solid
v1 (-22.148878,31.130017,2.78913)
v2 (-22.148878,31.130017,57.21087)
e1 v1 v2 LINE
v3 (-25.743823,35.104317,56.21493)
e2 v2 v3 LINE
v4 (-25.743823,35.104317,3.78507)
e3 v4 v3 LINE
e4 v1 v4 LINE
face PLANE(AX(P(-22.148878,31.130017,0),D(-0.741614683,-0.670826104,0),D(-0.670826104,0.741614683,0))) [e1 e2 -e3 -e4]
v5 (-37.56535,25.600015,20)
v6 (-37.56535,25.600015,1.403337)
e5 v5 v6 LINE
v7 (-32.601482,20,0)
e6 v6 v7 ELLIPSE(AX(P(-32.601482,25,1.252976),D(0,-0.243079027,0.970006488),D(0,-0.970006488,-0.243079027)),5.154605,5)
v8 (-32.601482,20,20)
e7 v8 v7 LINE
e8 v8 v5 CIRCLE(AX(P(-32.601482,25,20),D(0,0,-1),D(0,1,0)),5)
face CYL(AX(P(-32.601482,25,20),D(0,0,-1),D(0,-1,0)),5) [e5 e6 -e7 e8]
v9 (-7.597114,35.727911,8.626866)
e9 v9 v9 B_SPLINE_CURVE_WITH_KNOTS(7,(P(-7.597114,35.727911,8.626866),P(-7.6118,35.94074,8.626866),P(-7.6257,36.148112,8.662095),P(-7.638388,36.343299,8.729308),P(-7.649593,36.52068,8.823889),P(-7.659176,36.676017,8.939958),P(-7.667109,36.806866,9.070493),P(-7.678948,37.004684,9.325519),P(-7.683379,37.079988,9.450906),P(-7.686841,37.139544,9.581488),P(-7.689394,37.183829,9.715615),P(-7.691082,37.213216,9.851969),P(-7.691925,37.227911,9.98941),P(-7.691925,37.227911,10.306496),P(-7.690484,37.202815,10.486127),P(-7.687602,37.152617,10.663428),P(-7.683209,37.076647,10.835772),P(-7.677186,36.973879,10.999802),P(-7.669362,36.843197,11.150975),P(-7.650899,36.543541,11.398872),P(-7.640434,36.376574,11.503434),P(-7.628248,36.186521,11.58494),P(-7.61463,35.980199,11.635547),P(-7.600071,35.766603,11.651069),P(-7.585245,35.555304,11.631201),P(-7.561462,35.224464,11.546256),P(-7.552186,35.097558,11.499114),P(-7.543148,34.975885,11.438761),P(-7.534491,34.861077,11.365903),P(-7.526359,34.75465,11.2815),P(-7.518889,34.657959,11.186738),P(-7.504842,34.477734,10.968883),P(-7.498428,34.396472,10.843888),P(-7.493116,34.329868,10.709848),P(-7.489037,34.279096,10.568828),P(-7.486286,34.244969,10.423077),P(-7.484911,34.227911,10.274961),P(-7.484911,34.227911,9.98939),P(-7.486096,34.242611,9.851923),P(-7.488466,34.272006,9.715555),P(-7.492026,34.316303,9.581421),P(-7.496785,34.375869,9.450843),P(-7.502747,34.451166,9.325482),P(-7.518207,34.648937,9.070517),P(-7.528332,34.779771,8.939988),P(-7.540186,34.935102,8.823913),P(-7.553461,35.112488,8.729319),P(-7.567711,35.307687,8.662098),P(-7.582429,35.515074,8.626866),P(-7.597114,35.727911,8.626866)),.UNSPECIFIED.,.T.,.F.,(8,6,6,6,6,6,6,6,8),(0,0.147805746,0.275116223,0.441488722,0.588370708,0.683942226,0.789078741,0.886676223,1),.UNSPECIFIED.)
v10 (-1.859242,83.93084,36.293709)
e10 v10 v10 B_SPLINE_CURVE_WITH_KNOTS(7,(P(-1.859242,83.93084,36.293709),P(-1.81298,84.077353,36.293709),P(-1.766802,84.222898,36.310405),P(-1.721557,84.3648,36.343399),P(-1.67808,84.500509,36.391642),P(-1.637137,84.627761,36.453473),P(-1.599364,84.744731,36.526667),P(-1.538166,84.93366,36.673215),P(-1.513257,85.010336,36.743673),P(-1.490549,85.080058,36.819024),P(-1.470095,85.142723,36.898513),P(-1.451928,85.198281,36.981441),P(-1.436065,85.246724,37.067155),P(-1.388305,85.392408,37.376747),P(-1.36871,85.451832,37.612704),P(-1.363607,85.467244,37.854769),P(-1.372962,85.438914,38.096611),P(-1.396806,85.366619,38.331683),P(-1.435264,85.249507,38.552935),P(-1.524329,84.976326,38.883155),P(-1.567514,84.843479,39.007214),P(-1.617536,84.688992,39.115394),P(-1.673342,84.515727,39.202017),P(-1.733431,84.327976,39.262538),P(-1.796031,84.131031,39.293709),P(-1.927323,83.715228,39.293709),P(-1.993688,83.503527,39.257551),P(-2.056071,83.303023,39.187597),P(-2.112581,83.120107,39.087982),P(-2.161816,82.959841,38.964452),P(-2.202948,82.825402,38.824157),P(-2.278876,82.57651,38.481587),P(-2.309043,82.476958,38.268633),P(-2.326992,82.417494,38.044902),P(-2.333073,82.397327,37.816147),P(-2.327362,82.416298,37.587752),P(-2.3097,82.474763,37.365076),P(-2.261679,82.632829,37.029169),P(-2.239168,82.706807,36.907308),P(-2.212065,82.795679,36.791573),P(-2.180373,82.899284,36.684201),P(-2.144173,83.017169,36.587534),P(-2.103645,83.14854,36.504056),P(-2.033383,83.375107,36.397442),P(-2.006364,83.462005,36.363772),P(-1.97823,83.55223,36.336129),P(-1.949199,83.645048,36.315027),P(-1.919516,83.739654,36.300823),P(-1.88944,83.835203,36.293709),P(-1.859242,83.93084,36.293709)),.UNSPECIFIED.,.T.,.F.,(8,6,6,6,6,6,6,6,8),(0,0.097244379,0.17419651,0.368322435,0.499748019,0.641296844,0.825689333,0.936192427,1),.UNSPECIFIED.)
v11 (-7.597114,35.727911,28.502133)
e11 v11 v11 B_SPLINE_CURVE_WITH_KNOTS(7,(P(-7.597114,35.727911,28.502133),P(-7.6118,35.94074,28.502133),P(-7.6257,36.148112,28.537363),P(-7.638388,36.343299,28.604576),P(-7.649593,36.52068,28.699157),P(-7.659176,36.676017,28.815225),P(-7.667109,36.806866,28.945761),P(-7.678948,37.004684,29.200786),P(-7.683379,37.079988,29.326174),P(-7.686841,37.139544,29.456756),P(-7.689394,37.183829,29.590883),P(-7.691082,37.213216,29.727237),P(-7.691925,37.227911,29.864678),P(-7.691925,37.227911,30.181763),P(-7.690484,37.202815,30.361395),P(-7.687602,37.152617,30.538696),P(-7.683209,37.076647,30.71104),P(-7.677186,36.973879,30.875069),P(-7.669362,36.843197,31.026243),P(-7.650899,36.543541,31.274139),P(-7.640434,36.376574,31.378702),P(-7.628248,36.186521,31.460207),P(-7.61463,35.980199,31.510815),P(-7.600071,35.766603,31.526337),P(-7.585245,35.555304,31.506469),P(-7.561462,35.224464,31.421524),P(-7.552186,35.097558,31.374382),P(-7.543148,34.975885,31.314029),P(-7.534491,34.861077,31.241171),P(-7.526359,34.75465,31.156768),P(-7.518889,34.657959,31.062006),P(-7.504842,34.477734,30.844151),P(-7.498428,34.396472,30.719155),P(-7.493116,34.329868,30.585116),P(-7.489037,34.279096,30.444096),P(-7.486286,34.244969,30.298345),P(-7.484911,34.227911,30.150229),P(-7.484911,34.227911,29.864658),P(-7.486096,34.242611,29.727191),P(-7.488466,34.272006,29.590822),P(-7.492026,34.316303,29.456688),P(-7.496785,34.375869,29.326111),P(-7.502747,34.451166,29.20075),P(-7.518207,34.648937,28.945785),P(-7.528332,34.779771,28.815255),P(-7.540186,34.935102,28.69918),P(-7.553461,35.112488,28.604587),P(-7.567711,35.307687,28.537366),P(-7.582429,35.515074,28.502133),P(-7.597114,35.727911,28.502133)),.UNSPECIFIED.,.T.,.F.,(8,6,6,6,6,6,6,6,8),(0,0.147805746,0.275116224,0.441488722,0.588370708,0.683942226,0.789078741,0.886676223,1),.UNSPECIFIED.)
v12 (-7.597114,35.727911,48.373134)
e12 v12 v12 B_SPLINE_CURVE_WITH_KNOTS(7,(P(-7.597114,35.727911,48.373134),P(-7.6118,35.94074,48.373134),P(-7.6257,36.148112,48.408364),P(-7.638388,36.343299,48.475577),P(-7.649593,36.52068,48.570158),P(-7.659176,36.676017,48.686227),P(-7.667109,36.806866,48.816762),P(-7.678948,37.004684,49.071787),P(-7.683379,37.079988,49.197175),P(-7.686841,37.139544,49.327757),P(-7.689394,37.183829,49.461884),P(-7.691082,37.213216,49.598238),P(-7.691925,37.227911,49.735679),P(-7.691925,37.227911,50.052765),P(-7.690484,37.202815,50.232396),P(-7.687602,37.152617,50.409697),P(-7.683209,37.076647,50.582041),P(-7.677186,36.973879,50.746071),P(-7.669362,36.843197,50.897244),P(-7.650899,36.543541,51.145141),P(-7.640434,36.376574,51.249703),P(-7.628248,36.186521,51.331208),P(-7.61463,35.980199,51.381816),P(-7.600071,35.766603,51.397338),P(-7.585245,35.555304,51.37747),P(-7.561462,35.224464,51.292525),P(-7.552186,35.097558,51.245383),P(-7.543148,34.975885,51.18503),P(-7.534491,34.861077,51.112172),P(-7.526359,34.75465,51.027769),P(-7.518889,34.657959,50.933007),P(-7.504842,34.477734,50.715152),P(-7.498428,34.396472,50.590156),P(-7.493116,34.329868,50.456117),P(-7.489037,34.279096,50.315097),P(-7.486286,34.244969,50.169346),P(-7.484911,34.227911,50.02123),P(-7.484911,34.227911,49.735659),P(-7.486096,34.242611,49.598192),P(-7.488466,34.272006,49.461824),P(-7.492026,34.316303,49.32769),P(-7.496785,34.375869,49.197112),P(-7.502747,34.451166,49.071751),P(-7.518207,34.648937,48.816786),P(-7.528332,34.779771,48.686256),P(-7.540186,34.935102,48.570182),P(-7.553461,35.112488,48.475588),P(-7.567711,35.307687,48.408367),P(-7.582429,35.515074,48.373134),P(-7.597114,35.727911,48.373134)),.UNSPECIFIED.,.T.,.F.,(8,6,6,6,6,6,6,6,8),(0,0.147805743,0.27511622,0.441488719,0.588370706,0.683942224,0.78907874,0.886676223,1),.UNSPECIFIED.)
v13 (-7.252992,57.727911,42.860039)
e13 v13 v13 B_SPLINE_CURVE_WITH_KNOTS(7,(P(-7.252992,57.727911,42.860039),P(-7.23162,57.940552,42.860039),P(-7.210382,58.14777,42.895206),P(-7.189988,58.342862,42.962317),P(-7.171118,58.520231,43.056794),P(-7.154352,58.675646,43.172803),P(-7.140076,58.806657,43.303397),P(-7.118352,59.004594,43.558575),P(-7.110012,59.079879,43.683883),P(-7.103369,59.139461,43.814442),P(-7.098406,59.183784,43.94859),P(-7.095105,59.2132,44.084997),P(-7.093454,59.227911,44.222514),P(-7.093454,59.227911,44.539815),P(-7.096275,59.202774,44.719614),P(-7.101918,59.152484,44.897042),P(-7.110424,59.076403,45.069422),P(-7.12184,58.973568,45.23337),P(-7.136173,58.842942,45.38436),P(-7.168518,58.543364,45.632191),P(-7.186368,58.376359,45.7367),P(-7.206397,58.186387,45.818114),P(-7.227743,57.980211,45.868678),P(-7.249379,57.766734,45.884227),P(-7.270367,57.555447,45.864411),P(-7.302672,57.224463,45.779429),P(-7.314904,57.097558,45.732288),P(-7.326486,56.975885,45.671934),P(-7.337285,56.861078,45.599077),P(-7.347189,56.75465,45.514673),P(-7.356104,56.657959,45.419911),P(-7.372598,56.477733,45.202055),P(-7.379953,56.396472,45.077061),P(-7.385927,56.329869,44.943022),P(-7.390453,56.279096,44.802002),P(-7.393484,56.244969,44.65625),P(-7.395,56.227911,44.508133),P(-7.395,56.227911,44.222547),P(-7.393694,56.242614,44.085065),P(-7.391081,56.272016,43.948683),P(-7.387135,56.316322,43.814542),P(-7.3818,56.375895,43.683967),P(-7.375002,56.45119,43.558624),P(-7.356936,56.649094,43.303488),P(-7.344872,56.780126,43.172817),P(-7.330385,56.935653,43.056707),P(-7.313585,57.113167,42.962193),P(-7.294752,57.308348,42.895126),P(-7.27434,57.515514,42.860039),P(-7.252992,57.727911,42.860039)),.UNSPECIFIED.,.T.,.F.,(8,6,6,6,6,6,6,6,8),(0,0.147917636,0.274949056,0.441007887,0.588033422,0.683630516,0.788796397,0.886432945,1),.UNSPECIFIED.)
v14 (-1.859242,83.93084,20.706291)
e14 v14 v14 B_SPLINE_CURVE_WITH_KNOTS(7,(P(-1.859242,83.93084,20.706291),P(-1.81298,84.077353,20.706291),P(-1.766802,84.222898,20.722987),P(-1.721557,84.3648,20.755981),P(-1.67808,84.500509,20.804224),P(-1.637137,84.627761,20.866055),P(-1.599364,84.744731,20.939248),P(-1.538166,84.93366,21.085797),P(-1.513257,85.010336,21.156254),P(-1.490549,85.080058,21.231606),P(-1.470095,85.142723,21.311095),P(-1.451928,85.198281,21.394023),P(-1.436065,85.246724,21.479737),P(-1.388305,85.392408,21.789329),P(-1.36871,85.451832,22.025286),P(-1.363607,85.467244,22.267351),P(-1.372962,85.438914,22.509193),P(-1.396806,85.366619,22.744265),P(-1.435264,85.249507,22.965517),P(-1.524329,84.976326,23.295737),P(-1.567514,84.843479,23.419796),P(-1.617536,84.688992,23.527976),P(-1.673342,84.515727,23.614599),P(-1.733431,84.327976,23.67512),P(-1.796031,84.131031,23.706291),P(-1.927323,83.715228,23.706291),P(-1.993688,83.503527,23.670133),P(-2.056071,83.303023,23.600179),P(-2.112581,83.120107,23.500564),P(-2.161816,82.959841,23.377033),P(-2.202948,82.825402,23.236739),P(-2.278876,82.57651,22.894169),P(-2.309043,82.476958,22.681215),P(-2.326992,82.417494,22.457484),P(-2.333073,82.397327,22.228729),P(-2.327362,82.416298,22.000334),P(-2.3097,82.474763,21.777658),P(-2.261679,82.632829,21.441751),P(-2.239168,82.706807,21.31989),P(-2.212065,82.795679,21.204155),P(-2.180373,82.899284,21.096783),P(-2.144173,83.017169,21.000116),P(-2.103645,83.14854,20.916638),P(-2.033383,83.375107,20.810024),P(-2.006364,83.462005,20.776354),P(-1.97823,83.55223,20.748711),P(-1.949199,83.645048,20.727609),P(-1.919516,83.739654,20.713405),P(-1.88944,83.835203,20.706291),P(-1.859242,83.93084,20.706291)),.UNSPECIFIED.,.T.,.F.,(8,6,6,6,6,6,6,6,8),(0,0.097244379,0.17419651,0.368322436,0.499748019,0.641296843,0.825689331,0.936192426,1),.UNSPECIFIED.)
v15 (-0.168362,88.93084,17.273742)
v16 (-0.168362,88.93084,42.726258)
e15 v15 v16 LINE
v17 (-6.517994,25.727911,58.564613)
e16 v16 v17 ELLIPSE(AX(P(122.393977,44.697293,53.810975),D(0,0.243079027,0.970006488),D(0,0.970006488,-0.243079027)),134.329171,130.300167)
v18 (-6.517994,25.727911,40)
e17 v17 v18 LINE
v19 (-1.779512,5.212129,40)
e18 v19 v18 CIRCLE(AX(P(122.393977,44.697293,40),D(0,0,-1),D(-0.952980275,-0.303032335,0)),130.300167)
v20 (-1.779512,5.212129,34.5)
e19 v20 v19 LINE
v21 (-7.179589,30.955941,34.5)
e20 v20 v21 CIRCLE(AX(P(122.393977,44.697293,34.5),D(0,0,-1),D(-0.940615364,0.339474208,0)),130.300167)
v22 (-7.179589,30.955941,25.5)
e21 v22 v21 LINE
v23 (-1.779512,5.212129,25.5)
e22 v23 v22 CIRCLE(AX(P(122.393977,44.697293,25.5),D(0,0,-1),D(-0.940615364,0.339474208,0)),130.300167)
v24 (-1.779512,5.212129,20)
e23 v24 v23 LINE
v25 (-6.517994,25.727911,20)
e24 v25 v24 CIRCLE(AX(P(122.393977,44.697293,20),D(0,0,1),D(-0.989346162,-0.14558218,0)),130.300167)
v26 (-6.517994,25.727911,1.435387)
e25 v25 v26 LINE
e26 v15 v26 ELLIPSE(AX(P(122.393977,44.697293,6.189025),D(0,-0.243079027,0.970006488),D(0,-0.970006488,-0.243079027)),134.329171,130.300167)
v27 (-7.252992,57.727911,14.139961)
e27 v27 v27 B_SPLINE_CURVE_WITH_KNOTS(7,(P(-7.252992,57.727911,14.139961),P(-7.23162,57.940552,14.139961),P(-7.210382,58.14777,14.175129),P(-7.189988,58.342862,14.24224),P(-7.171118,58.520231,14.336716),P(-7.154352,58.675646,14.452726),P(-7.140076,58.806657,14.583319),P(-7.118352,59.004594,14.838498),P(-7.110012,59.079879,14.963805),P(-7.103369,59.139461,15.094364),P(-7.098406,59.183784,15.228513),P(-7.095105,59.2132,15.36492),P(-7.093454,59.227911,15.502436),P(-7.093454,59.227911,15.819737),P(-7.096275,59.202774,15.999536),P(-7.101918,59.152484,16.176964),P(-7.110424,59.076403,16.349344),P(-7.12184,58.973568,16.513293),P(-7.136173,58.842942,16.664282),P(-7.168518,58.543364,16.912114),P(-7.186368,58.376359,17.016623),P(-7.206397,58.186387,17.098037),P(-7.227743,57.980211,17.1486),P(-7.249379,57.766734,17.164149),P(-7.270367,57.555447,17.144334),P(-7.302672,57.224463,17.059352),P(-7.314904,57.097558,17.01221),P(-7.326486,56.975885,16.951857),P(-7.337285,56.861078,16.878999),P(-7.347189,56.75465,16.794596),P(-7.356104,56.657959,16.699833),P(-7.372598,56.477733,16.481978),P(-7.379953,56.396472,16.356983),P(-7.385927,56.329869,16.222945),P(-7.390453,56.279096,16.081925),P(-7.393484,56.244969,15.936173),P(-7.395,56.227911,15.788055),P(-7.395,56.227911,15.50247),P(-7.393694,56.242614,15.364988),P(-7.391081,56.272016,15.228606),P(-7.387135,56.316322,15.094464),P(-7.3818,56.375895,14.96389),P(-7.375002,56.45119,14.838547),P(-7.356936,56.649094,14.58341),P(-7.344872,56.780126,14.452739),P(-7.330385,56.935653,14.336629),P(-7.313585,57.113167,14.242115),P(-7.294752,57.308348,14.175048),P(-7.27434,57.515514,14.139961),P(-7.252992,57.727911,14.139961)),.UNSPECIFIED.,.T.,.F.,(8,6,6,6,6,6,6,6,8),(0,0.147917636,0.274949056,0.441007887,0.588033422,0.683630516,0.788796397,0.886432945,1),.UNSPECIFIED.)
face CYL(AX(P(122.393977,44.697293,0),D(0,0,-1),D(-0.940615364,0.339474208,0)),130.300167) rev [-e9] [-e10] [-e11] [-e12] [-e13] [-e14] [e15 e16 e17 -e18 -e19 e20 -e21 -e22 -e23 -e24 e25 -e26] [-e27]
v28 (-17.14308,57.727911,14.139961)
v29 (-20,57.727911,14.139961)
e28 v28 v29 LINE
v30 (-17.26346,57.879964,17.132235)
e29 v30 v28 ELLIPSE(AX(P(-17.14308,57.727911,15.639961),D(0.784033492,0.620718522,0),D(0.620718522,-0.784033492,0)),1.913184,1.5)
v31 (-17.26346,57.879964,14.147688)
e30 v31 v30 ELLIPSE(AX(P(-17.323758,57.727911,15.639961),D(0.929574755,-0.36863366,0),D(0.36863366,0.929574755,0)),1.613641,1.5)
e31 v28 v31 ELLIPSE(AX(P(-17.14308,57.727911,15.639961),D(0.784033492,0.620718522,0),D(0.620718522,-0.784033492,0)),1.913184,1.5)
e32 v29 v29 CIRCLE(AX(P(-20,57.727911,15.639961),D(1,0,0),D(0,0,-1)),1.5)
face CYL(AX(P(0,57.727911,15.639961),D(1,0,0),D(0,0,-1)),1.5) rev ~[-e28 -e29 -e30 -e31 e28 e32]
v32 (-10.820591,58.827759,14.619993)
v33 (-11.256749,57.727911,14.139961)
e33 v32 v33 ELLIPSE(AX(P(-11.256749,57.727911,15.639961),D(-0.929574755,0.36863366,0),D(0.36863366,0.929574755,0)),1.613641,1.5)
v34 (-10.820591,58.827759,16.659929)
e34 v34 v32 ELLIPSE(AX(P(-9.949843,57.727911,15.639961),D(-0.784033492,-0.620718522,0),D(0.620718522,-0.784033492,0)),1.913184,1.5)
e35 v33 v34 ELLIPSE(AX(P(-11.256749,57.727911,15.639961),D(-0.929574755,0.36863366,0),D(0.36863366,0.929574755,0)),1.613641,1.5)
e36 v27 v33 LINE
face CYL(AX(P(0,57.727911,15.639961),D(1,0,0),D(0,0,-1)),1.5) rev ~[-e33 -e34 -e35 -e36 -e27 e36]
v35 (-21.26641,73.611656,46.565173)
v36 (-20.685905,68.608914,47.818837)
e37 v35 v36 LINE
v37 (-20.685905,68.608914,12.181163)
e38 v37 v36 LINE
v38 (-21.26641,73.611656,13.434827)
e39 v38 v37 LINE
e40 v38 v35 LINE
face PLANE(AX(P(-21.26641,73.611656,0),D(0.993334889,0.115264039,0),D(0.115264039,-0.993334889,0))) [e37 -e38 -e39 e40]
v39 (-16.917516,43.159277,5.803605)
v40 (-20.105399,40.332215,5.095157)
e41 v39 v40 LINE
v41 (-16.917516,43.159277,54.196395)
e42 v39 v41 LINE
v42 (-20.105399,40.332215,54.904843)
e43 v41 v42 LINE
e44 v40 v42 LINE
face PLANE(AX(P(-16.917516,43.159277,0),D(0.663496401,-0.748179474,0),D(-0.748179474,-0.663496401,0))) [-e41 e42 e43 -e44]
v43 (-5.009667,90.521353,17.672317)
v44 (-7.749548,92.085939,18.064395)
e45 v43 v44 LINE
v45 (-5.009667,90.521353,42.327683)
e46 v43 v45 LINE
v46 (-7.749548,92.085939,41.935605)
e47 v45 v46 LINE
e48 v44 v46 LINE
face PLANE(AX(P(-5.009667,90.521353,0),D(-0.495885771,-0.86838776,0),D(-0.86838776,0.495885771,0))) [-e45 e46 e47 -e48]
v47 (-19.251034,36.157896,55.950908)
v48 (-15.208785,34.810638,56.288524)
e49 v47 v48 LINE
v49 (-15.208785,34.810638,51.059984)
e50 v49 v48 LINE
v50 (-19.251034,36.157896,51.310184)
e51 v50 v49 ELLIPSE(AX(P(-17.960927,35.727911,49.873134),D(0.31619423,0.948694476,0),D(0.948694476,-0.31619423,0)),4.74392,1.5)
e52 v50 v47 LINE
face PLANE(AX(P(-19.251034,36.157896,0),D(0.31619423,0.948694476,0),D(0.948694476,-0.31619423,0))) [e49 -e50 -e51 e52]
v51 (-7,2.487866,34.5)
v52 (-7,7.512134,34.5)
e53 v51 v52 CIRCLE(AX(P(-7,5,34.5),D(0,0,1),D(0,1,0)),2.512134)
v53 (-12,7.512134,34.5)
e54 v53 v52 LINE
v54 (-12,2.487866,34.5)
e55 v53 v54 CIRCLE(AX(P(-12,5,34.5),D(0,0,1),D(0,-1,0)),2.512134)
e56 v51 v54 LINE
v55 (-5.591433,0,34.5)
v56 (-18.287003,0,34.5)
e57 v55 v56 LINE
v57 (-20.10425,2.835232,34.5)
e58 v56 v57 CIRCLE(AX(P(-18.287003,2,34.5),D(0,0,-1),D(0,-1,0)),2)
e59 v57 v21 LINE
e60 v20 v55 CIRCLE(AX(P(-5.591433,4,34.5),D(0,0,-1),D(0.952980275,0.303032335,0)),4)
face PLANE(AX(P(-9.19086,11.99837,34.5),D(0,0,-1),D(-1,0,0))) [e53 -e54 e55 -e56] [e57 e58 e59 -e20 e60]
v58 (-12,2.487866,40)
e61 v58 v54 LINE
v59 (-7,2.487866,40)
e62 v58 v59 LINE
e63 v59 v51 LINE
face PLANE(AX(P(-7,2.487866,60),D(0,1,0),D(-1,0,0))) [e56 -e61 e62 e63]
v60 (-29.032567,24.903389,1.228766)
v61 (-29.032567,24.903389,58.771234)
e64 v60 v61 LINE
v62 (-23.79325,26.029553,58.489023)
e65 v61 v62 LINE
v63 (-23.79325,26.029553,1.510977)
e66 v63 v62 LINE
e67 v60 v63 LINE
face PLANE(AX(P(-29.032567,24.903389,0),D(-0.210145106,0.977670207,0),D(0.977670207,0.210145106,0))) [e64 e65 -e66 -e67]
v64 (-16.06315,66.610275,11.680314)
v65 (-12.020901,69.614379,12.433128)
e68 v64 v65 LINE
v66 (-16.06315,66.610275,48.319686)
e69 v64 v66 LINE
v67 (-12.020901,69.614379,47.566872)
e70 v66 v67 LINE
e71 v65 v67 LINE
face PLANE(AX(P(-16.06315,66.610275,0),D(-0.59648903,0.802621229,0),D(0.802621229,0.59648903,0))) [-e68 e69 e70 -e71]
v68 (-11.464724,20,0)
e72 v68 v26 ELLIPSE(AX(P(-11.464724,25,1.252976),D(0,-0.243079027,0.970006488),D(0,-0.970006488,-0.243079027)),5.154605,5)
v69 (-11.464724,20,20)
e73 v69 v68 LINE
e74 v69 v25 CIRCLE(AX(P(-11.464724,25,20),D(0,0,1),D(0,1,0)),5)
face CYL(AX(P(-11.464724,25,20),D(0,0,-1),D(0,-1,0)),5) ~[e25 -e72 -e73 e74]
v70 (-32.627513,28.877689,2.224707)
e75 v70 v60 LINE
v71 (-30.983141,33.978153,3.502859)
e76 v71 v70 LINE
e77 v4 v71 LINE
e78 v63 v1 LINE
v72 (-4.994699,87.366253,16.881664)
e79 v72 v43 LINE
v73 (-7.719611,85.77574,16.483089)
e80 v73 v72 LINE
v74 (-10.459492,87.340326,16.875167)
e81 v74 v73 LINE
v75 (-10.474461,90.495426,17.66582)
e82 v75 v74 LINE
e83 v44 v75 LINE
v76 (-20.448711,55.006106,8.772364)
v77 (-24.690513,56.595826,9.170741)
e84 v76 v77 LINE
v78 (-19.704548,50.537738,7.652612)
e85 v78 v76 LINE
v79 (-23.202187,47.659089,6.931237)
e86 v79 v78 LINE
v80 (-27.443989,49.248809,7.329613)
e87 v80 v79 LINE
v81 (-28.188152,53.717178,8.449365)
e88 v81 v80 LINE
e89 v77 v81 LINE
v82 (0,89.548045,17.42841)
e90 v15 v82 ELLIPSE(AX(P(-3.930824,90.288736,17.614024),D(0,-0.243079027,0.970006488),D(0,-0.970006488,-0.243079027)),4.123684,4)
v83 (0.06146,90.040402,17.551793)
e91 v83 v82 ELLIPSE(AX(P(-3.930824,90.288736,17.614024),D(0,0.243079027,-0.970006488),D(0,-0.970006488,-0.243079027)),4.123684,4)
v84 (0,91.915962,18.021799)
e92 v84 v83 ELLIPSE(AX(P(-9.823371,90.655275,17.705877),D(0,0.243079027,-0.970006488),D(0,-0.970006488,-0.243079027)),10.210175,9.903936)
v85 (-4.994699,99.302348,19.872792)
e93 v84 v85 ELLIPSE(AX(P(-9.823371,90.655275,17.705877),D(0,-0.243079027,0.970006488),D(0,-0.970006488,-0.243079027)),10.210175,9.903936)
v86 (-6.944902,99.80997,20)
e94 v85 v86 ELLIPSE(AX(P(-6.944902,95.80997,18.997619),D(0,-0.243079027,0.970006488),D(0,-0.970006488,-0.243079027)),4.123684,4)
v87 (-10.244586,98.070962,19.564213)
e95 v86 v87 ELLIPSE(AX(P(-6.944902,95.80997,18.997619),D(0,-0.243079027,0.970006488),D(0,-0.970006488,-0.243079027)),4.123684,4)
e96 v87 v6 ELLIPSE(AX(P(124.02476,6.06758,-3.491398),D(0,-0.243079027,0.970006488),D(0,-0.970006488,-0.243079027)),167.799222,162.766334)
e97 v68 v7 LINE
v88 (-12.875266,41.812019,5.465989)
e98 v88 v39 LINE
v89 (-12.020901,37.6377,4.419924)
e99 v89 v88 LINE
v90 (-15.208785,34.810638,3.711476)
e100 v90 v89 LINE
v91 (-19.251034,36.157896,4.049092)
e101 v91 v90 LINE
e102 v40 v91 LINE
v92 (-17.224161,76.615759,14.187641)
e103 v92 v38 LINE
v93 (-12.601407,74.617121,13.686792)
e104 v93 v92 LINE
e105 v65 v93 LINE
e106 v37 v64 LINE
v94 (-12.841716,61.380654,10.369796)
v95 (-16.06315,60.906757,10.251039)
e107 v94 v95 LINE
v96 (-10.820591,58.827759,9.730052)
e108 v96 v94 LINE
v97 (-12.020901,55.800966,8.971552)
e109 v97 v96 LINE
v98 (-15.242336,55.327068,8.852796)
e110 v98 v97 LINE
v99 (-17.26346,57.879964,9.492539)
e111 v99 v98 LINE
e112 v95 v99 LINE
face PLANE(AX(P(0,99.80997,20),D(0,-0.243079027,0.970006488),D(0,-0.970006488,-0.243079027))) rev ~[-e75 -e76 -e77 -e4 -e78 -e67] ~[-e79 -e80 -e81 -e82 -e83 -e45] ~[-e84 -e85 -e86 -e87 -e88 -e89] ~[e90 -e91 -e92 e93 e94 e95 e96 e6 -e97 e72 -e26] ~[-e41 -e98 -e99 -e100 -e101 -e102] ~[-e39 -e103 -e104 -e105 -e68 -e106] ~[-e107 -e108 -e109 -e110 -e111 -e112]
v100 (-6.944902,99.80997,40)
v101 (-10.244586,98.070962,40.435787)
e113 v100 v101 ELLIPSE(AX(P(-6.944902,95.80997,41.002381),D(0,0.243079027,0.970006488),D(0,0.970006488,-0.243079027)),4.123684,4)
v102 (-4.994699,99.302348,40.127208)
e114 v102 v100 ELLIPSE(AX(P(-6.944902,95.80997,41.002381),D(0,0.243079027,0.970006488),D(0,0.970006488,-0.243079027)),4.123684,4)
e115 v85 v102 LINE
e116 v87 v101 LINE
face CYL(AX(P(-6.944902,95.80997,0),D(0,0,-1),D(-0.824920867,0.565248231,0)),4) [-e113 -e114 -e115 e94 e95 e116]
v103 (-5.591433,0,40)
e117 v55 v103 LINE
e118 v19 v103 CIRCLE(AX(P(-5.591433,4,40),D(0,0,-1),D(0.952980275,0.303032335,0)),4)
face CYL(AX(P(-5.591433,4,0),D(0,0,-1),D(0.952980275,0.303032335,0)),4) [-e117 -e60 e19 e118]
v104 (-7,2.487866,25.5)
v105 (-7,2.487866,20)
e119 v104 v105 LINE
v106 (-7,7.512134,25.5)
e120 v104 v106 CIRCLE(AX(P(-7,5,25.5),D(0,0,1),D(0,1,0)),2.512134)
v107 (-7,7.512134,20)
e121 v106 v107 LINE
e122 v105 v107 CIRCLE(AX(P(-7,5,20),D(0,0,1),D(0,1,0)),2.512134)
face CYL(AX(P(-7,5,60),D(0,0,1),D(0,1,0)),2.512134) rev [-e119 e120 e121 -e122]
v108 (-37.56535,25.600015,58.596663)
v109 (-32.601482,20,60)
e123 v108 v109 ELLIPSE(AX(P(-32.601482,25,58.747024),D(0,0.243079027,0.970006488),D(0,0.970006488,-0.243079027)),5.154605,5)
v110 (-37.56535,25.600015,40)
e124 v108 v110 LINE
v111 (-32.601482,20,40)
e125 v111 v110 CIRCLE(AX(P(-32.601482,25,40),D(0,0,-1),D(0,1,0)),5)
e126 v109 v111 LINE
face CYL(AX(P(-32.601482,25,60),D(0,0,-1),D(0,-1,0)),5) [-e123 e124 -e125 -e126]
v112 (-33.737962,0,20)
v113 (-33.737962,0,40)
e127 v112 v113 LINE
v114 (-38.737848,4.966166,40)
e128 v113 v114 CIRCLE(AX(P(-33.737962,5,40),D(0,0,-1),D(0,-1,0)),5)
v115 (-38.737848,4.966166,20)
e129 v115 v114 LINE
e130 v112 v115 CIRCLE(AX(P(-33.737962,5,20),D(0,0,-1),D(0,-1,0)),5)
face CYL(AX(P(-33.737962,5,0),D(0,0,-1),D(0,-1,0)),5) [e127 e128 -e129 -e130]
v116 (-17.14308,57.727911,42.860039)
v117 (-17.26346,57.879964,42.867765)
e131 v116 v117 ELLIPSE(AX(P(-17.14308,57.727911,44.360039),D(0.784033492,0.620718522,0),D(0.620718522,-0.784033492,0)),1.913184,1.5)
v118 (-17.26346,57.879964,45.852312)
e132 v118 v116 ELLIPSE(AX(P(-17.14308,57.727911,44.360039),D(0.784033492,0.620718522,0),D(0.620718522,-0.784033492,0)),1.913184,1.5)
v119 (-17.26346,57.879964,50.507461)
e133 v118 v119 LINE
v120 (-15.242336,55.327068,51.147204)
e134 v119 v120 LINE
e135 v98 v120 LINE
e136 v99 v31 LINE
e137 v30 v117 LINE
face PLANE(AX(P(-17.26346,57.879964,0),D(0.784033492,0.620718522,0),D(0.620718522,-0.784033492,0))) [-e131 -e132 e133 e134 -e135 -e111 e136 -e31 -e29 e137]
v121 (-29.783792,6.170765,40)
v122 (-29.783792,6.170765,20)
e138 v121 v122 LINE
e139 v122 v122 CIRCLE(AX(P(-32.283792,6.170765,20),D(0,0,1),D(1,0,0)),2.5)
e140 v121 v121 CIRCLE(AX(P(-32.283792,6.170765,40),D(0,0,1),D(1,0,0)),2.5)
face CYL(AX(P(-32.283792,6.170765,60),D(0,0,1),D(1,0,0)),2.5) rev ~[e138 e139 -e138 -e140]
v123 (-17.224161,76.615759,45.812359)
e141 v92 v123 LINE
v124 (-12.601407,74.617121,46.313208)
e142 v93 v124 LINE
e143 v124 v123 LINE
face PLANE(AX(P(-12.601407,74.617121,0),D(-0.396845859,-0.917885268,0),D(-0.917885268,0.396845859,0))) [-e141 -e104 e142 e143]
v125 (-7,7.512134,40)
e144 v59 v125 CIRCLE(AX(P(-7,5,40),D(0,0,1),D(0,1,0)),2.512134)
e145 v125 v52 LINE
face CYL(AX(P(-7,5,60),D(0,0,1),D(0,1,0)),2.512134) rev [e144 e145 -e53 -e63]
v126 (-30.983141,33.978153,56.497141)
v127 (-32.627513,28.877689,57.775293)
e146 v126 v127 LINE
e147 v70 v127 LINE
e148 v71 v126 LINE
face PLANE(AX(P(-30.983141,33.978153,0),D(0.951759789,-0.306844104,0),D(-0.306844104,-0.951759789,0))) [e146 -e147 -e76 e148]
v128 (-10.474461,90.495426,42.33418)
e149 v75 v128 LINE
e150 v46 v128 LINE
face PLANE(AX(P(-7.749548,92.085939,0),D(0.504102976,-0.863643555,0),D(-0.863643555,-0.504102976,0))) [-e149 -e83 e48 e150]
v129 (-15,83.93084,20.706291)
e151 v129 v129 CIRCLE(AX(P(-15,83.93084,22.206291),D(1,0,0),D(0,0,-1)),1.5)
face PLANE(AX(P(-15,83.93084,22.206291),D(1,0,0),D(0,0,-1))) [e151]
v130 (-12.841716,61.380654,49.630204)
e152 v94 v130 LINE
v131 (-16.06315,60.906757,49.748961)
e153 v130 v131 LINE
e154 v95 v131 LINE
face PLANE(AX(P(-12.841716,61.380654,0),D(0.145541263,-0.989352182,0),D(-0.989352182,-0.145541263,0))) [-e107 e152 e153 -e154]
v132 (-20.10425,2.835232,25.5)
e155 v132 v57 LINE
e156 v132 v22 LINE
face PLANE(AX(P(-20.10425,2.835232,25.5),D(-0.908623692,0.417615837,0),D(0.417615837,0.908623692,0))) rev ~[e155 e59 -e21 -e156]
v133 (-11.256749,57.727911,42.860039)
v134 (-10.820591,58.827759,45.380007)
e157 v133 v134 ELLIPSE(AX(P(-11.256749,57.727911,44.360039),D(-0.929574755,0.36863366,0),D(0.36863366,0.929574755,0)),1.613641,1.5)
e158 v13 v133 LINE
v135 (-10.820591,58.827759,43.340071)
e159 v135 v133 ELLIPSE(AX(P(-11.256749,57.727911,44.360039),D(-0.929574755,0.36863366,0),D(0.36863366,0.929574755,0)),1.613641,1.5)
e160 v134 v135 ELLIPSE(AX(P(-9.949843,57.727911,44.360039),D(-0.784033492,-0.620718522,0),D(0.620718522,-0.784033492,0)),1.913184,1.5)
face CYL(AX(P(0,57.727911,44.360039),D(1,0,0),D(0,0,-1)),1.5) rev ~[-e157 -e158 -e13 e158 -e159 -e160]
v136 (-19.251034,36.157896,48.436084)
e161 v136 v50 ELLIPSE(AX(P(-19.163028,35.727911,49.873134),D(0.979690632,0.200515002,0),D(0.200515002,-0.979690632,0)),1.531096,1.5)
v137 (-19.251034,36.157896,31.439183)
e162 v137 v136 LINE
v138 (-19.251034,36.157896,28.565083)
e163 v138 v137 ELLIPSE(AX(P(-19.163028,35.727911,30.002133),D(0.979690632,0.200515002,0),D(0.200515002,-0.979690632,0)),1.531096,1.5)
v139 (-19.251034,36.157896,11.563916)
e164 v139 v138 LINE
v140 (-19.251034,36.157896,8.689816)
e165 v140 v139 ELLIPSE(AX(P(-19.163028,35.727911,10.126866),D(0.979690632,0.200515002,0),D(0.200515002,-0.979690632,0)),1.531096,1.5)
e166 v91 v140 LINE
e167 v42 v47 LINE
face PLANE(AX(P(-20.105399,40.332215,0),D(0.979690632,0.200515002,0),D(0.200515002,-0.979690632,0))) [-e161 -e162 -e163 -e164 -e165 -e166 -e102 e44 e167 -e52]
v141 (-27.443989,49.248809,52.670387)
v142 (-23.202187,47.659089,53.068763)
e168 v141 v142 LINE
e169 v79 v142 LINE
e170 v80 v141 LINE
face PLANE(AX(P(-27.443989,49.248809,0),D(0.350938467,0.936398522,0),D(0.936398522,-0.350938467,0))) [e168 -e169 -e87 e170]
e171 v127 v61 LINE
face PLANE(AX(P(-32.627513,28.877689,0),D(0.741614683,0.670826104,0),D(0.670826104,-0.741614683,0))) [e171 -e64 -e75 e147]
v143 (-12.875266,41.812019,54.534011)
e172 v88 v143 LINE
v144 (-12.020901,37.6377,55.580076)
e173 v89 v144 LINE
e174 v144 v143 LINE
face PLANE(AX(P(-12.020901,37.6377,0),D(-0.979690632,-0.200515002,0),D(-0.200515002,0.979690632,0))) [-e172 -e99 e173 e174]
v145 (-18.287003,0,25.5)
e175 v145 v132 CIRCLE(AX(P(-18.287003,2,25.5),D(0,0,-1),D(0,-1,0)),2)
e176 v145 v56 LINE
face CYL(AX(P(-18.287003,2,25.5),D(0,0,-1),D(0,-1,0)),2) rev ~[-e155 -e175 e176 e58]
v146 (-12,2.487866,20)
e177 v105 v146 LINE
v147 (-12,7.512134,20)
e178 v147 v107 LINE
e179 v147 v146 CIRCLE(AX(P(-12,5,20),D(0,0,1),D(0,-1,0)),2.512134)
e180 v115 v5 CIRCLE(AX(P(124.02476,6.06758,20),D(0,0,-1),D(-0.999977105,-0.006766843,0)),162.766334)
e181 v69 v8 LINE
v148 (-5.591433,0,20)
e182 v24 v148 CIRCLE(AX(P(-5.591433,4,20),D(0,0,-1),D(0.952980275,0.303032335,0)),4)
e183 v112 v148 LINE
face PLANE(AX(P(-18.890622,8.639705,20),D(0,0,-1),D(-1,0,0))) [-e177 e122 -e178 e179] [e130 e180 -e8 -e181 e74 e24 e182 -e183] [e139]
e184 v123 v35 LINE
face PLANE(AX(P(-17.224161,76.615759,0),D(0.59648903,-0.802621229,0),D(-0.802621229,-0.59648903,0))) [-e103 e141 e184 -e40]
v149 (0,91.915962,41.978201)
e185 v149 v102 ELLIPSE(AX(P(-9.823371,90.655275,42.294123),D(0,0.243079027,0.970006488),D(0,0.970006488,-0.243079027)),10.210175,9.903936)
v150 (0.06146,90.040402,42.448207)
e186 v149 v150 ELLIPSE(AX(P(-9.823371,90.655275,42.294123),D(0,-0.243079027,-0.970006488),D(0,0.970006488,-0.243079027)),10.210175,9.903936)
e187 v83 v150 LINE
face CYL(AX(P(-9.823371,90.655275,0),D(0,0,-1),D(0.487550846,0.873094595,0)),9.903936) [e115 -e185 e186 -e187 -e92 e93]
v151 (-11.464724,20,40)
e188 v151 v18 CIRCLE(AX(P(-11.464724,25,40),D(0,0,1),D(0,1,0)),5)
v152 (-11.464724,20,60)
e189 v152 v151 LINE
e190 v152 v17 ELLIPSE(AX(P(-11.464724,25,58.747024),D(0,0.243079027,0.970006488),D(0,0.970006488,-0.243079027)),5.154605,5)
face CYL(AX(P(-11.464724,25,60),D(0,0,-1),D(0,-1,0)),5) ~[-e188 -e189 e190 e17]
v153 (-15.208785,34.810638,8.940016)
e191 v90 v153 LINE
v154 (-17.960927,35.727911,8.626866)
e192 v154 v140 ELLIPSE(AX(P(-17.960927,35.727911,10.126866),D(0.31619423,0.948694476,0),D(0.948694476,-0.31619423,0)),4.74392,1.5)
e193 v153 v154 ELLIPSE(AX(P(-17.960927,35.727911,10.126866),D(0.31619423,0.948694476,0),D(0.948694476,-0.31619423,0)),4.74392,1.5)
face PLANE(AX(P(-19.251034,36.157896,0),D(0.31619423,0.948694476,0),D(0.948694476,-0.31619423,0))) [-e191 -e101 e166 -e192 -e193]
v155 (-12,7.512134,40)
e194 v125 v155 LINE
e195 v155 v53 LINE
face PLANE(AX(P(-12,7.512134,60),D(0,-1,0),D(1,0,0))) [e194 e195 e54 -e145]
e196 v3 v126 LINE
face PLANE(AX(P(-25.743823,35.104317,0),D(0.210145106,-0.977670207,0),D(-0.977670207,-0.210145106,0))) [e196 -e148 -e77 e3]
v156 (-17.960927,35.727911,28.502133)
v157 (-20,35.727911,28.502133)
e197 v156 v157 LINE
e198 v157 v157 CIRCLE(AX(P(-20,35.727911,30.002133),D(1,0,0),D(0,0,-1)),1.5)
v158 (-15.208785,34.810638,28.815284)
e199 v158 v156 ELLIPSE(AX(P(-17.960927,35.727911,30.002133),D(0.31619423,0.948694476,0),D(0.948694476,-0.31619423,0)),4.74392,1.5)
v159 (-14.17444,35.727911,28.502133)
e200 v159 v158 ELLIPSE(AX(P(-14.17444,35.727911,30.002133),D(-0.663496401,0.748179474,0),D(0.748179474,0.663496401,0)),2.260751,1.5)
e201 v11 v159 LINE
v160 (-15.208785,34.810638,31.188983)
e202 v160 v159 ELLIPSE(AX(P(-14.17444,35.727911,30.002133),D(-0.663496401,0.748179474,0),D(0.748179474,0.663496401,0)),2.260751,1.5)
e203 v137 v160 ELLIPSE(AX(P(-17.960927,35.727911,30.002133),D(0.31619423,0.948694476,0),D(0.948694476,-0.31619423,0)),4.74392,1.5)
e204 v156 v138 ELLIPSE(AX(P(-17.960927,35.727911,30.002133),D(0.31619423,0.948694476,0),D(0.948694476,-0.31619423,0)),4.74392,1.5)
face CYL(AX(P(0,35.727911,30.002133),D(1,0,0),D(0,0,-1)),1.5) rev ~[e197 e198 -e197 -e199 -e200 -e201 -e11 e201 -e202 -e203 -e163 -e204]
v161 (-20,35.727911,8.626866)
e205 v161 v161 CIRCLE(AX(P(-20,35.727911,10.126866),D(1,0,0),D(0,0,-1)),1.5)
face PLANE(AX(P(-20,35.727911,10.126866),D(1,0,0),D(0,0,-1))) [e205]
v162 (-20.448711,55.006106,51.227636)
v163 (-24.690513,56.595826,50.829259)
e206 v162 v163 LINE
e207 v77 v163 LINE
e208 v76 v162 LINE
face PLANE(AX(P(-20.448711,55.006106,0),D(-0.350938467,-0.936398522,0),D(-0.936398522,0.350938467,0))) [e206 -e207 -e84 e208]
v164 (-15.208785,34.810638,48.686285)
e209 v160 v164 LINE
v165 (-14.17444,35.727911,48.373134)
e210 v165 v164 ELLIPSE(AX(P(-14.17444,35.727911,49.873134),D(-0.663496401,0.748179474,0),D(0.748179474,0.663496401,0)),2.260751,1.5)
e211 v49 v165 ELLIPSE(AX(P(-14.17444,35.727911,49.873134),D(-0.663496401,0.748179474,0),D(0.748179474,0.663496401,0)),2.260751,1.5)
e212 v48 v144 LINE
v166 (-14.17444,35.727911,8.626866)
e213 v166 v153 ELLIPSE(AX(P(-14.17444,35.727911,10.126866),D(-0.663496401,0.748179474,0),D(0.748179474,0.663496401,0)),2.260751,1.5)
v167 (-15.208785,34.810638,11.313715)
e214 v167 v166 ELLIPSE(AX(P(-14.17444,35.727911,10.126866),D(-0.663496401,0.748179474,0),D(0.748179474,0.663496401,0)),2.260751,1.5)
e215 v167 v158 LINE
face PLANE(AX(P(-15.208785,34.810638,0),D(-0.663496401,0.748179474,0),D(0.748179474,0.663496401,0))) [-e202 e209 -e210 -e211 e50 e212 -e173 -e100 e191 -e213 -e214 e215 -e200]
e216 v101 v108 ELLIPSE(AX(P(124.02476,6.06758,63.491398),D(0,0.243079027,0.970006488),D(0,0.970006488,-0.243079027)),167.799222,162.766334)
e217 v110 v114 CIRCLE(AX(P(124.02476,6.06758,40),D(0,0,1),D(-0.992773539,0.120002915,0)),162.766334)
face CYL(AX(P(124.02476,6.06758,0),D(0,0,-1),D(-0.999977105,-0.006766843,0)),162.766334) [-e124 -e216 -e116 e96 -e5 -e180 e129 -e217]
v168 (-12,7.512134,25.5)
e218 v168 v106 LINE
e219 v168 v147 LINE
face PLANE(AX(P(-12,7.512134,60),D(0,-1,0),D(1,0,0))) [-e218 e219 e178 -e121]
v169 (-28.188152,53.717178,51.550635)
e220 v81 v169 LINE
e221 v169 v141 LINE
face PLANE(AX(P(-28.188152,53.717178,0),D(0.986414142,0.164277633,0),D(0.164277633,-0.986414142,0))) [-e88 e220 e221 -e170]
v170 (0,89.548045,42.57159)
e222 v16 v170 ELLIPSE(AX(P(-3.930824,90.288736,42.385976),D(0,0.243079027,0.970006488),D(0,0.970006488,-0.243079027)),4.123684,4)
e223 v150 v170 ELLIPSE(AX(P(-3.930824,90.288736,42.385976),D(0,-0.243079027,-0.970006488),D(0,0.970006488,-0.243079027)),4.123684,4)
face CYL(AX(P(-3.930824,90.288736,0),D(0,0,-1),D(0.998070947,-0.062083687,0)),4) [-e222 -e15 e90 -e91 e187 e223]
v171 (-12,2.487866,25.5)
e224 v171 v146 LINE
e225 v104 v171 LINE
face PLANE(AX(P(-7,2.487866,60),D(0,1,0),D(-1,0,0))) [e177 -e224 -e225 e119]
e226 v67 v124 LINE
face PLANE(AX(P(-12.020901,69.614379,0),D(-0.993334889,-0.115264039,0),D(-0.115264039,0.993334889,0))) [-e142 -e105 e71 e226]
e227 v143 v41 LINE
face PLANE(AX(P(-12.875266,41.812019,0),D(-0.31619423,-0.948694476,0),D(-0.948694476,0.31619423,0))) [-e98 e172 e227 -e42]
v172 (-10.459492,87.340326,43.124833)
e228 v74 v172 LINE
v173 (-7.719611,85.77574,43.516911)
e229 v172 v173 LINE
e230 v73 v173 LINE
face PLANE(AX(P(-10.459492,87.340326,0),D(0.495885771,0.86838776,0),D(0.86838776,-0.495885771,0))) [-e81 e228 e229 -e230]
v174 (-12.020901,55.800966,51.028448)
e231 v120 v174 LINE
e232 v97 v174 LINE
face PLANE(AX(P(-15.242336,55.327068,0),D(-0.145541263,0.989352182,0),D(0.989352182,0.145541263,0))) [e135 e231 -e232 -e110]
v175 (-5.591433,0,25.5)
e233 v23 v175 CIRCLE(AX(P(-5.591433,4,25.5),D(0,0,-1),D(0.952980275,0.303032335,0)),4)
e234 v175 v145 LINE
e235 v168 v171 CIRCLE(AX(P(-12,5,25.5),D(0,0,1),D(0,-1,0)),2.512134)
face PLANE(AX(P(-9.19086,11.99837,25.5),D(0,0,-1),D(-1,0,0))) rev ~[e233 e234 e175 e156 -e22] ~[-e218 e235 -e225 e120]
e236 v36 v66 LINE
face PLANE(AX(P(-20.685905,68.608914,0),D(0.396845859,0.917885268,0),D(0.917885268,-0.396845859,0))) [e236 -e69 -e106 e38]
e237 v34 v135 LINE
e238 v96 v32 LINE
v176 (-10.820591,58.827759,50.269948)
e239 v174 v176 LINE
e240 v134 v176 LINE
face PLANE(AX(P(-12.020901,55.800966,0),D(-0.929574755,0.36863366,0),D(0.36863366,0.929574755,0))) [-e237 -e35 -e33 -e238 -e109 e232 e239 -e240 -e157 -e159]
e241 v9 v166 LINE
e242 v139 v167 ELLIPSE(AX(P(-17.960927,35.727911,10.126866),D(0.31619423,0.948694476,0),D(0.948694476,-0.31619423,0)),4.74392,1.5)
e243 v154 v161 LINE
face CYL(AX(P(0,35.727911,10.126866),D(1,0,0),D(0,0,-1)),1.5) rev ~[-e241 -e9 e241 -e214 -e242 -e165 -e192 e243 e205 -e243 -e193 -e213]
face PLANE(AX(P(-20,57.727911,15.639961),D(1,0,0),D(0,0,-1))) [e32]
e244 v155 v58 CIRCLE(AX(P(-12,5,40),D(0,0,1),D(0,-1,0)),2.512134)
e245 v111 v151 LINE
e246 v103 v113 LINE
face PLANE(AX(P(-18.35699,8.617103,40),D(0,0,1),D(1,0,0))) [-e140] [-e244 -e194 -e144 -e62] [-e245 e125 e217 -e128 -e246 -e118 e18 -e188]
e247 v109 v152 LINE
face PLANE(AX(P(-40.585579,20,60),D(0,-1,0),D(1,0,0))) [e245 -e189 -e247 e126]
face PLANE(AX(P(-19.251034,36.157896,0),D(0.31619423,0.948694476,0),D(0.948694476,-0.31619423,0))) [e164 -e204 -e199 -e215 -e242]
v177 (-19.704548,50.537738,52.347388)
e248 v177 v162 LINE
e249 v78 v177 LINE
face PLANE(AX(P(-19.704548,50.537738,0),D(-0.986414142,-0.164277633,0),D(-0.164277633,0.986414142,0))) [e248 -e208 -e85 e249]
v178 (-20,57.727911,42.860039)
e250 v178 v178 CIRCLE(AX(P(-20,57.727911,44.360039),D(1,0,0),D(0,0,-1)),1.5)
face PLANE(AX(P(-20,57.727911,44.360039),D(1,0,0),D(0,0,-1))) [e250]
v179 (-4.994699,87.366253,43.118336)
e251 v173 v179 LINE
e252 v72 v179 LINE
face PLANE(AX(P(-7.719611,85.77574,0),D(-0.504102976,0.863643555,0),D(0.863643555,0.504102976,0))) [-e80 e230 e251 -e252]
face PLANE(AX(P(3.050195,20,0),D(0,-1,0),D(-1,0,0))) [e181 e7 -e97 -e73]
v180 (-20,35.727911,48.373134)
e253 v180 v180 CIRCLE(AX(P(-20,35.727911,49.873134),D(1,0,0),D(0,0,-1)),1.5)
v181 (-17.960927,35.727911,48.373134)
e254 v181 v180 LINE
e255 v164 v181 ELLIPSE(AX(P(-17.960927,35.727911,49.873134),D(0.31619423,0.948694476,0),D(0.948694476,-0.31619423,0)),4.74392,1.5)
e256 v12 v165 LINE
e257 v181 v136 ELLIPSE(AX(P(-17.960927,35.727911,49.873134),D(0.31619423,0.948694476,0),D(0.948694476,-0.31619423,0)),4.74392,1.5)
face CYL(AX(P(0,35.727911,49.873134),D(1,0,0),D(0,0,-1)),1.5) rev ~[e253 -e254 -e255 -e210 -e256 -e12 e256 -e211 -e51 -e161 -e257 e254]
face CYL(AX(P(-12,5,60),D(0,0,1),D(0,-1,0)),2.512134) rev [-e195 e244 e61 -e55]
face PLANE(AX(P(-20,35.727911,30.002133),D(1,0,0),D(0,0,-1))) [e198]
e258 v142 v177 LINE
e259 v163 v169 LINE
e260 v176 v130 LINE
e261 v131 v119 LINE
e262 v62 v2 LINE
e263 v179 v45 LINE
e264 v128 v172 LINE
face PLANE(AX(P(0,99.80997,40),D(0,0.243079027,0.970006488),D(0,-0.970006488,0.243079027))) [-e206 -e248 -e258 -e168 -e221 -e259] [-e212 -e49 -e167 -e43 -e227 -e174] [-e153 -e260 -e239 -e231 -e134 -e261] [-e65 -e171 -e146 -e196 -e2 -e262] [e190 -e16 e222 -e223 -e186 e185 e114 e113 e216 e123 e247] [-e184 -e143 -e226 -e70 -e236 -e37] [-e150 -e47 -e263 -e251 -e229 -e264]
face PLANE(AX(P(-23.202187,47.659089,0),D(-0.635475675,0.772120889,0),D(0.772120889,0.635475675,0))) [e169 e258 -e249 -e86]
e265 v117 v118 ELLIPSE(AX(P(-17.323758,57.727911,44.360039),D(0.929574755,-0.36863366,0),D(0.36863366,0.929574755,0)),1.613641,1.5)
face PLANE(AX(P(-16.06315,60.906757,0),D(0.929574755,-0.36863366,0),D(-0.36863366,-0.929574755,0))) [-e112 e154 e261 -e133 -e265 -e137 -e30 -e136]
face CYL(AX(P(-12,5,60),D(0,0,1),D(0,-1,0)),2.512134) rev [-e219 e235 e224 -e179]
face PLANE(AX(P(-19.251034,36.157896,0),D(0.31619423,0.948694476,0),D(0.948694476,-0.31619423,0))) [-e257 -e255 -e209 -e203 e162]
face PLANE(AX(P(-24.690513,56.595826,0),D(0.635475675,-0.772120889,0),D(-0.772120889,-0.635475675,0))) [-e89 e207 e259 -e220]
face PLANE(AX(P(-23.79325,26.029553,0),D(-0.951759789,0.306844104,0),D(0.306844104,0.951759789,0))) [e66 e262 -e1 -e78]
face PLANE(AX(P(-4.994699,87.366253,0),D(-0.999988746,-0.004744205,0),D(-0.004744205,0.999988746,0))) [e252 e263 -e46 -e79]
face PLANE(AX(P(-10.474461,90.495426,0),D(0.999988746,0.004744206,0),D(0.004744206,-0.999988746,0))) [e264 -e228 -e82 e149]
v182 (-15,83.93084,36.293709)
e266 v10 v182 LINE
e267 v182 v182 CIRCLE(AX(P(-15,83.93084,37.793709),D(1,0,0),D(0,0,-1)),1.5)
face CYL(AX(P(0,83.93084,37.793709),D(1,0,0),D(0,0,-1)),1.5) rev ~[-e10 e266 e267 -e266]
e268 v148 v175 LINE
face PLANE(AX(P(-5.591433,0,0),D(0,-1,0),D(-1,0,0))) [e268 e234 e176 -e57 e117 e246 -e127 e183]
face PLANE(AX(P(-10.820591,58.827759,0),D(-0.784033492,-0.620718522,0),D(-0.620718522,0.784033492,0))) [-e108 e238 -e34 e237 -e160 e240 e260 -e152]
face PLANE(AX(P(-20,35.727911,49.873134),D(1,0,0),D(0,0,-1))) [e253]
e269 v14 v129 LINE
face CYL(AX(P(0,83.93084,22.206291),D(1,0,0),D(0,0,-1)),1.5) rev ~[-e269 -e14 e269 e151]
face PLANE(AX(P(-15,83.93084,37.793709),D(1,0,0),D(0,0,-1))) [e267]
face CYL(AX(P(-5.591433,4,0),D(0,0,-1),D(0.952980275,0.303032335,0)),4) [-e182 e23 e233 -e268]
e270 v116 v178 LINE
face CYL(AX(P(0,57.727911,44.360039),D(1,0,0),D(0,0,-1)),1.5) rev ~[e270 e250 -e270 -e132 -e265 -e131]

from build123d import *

# Parameters (mm, degrees)
BOSS_EXTRUDE4_DEPTH = 60
CUT_EXTRUDE2_DEPTH  = 60
SKETCH8_R           = 2.5
CUT_EXTRUDE3_DEPTH  = 60
CUT_EXTRUDE4_START  = 25.5
CUT_EXTRUDE4_DEPTH  = 9
SKETCH10_W          = 43.881633461
SKETCH10_H          = 22.720590432
CUT_EXTRUDE5_DEPTH  = 20
SKETCH11_W          = 44.457178834
SKETCH11_H          = 22.765793249
CUT_EXTRUDE6_DEPTH  = 20
FILLET1_R           = 5
FILLET2_R           = 5
FILLET3_R           = 5
FILLET4_R           = 5
CUT_EXTRUDE7_DEPTH  = 49
CUT_EXTRUDE8_DEPTH  = 15
CUT_EXTRUDE9_DEPTH  = 45
CUT_EXTRUDE10_DEPTH = 18
SKETCH14_R          = 1.5
CUT_EXTRUDE11_DEPTH = 20
SKETCH15_R          = 1.5
CUT_EXTRUDE12_DEPTH = 20
SKETCH16_R          = 1.5
CUT_EXTRUDE13_DEPTH = 20
SKETCH17_R          = 1.5
CUT_EXTRUDE14_DEPTH = 20
SKETCH18_R          = 1.5
CUT_EXTRUDE15_DEPTH = 20
SKETCH19_R          = 1.5
CUT_EXTRUDE16_DEPTH = 15
SKETCH20_R          = 1.5
CUT_EXTRUDE17_DEPTH = 15


with BuildPart() as part:
    # Sketch5 → Boss-Extrude4 (new body)
    with BuildSketch(Plane.XY):
        with BuildLine():
            Line((-5.591433469, 0), (-33.737961989, 0))
            ThreePointArc((-33.737961989, 0), (-37.261513388, 1.45252406), (-38.737847513, 4.966165783))
            ThreePointArc((-38.737847513, 4.966165783), (-31.616240623, 53.699065918), (-10.244585549, 98.070962427))
            ThreePointArc((-10.244585549, 98.070962427), (-7.858330599, 99.704279242), (-4.994698694, 99.302347885))
            ThreePointArc((-4.994698694, 99.302347885), (-1.130402236, 95.400824643), (0.061459935, 90.040401592))
            ThreePointArc((0.061459935, 90.040401592), (-0.013962808, 89.477441364), (-0.168362399, 88.93083952))
            ThreePointArc((-0.168362399, 88.93083952), (-7.882068029, 47.204430035), (-1.77951237, 5.212129342))
            ThreePointArc((-1.77951237, 5.212129342), (-2.362771411, 1.638699232), (-5.591433469, 0))
        make_face()
        Polygon((-23.793249775, 26.029552985), (-22.148877555, 31.130017156), (-25.743822989, 35.104317357), (-30.983140641, 33.978153386), (-32.627512861, 28.877689216), (-29.032567427, 24.903389015), align=None, mode=Mode.SUBTRACT)
        Polygon((-19.704548153, 50.537737556), (-20.448711238, 55.006105989), (-24.690513357, 56.595826069), (-28.18815239, 53.717177716), (-27.443989306, 49.248809284), (-23.202187187, 47.659089203), align=None, mode=Mode.SUBTRACT)
        Polygon((-12.020901099, 69.614378519), (-12.60140651, 74.617120781), (-17.224161103, 76.615759479), (-21.266410285, 73.611655915), (-20.685904874, 68.608913653), (-16.063150281, 66.610274955), align=None, mode=Mode.SUBTRACT)
        Polygon((-4.994698694, 87.366252749), (-5.009667304, 90.521352685), (-7.749548306, 92.085939457), (-10.474460698, 90.495426291), (-10.459492087, 87.340326355), (-7.719611085, 85.775739583), align=None, mode=Mode.SUBTRACT)
        Polygon((-12.020901099, 37.637700147), (-12.875266359, 41.812019441), (-16.917515541, 43.159277068), (-20.105399463, 40.332215402), (-19.251034203, 36.157896108), (-15.208785021, 34.810638481), align=None, mode=Mode.SUBTRACT)
        Polygon((-12.020901099, 55.800966029), (-10.82059125, 58.827758896), (-12.841715841, 61.380654151), (-16.063150281, 60.906756539), (-17.263460129, 57.879963671), (-15.242335538, 55.327068416), align=None, mode=Mode.SUBTRACT)
    extrude(amount=BOSS_EXTRUDE4_DEPTH)

    # Sketch7 → Cut-Extrude2 (cut)
    with BuildSketch(Plane.XY.offset(60)):
        with BuildLine():
            Line((-12, 7.5121344), (-7, 7.5121344))
            ThreePointArc((-7, 7.5121344), (-4.4878656, 5), (-7, 2.4878656))
            Line((-7, 2.4878656), (-12, 2.4878656))
            ThreePointArc((-12, 2.4878656), (-14.5121344, 5), (-12, 7.5121344))
        make_face()
    extrude(amount=-CUT_EXTRUDE2_DEPTH, mode=Mode.SUBTRACT)

    # Sketch8 → Cut-Extrude3 (cut)
    with BuildSketch(Plane.XY.offset(60)):
        with Locations((-32.283791832, 6.170765259)):
            Circle(SKETCH8_R)
    extrude(amount=-CUT_EXTRUDE3_DEPTH, mode=Mode.SUBTRACT)

    # Sketch9 → Cut-Extrude4 (cut)
    with BuildSketch(Plane.XY.offset(CUT_EXTRUDE4_START)):
        with BuildLine():
            Line((0, 0), (-18.287002555, 0))
            ThreePointArc((-18.287002555, 0), (-19.970817175, 0.920755669), (-20.104249938, 2.835231673))
            Line((-20.104249938, 2.835231673), (-7.17958851, 30.955941067))
            Line((-7.17958851, 30.955941067), (0, 0))
        make_face()
    extrude(amount=CUT_EXTRUDE4_DEPTH, mode=Mode.SUBTRACT)

    # Sketch10 → Cut-Extrude5 (cut)
    with BuildSketch(Plane(origin=(0, 0, 0), x_dir=(-1, 0, 0), z_dir=(0, 0, -1))):
        with Locations((18.890622206, 8.639704784)):
            Rectangle(SKETCH10_W, SKETCH10_H)
    extrude(amount=-CUT_EXTRUDE5_DEPTH, mode=Mode.SUBTRACT)

    # Sketch11 → Cut-Extrude6 (cut)
    with BuildSketch(Plane.XY.offset(60)):
        with Locations((-18.356989611, 8.617103375)):
            Rectangle(SKETCH11_W, SKETCH11_H)
    extrude(amount=-CUT_EXTRUDE6_DEPTH, mode=Mode.SUBTRACT)

    # Fillet1
    fillet1_edges = [part.edges().sort_by_distance(p)[0] for p in [
        (-5.544200811, 20, 50),
    ]]
    fillet(fillet1_edges, radius=FILLET1_R)

    # Fillet2
    fillet2_edges = [part.edges().sort_by_distance(p)[0] for p in [
        (-5.544200811, 20, 10),
    ]]
    fillet(fillet2_edges, radius=FILLET2_R)

    # Fillet3
    fillet3_edges = [part.edges().sort_by_distance(p)[0] for p in [
        (-38.144186452, 20, 50),
    ]]
    fillet(fillet3_edges, radius=FILLET3_R)

    # Fillet4
    fillet4_edges = [part.edges().sort_by_distance(p)[0] for p in [
        (-38.144186452, 20, 10),
    ]]
    fillet(fillet4_edges, radius=FILLET4_R)

    # Sketch12 → Cut-Extrude7 (cut)
    with BuildSketch(Plane(origin=(0, 0, 0), x_dir=(0, 0, -1), z_dir=(1, 0, 0))):
        Polygon((-60, 20), (-60, 99.809969504), (-40, 99.809969504), align=None)
    extrude(amount=-CUT_EXTRUDE7_DEPTH, mode=Mode.SUBTRACT)

    # Sketch12<2> → Cut-Extrude8 (cut)
    with BuildSketch(Plane(origin=(0, 0, 0), x_dir=(0, 0, -1), z_dir=(1, 0, 0))):
        Polygon((-60, 20), (-60, 99.809969504), (-40, 99.809969504), align=None)
    extrude(amount=CUT_EXTRUDE8_DEPTH, mode=Mode.SUBTRACT)

    # Sketch13 → Cut-Extrude9 (cut)
    with BuildSketch(Plane(origin=(0, 0, 0), x_dir=(0, 0, -1), z_dir=(1, 0, 0))):
        Polygon((0, 20), (0, 99.809969504), (-20, 99.809969504), align=None)
    extrude(amount=-CUT_EXTRUDE9_DEPTH, mode=Mode.SUBTRACT)

    # Sketch13<2> → Cut-Extrude10 (cut)
    with BuildSketch(Plane(origin=(0, 0, 0), x_dir=(0, 0, -1), z_dir=(1, 0, 0))):
        Polygon((0, 20), (0, 99.809969504), (-20, 99.809969504), align=None)
    extrude(amount=CUT_EXTRUDE10_DEPTH, mode=Mode.SUBTRACT)

    # Sketch14 → Cut-Extrude11 (cut)
    with BuildSketch(Plane(origin=(0, 0, 0), x_dir=(0, 0, -1), z_dir=(1, 0, 0))):
        with Locations((-49.873134451, 35.727910902)):
            Circle(SKETCH14_R)
    extrude(amount=-CUT_EXTRUDE11_DEPTH, mode=Mode.SUBTRACT)

    # Sketch15 → Cut-Extrude12 (cut)
    with BuildSketch(Plane(origin=(0, 0, 0), x_dir=(0, 0, -1), z_dir=(1, 0, 0))):
        with Locations((-30.002133338, 35.727910902)):
            Circle(SKETCH15_R)
    extrude(amount=-CUT_EXTRUDE12_DEPTH, mode=Mode.SUBTRACT)

    # Sketch16 → Cut-Extrude13 (cut)
    with BuildSketch(Plane(origin=(0, 0, 0), x_dir=(0, 0, -1), z_dir=(1, 0, 0))):
        with Locations((-10.126865549, 35.727910902)):
            Circle(SKETCH16_R)
    extrude(amount=-CUT_EXTRUDE13_DEPTH, mode=Mode.SUBTRACT)

    # Sketch17 → Cut-Extrude14 (cut)
    with BuildSketch(Plane(origin=(0, 0, 0), x_dir=(0, 0, -1), z_dir=(1, 0, 0))):
        with Locations((-44.360038747, 57.727910902)):
            Circle(SKETCH17_R)
    extrude(amount=-CUT_EXTRUDE14_DEPTH, mode=Mode.SUBTRACT)

    # Sketch18 → Cut-Extrude15 (cut)
    with BuildSketch(Plane(origin=(0, 0, 0), x_dir=(0, 0, -1), z_dir=(1, 0, 0))):
        with Locations((-15.639961253, 57.727910902)):
            Circle(SKETCH18_R)
    extrude(amount=-CUT_EXTRUDE15_DEPTH, mode=Mode.SUBTRACT)

    # Sketch19 → Cut-Extrude16 (cut)
    with BuildSketch(Plane(origin=(0, 0, 0), x_dir=(0, 0, -1), z_dir=(1, 0, 0))):
        with Locations((-37.793709057, 83.93083952)):
            Circle(SKETCH19_R)
    extrude(amount=-CUT_EXTRUDE16_DEPTH, mode=Mode.SUBTRACT)

    # Sketch20 → Cut-Extrude17 (cut)
    with BuildSketch(Plane(origin=(0, 0, 0), x_dir=(0, 0, -1), z_dir=(1, 0, 0))):
        with Locations((-22.206290943, 83.93083952)):
            Circle(SKETCH20_R)
    extrude(amount=-CUT_EXTRUDE17_DEPTH, mode=Mode.SUBTRACT)


solid = part.part
